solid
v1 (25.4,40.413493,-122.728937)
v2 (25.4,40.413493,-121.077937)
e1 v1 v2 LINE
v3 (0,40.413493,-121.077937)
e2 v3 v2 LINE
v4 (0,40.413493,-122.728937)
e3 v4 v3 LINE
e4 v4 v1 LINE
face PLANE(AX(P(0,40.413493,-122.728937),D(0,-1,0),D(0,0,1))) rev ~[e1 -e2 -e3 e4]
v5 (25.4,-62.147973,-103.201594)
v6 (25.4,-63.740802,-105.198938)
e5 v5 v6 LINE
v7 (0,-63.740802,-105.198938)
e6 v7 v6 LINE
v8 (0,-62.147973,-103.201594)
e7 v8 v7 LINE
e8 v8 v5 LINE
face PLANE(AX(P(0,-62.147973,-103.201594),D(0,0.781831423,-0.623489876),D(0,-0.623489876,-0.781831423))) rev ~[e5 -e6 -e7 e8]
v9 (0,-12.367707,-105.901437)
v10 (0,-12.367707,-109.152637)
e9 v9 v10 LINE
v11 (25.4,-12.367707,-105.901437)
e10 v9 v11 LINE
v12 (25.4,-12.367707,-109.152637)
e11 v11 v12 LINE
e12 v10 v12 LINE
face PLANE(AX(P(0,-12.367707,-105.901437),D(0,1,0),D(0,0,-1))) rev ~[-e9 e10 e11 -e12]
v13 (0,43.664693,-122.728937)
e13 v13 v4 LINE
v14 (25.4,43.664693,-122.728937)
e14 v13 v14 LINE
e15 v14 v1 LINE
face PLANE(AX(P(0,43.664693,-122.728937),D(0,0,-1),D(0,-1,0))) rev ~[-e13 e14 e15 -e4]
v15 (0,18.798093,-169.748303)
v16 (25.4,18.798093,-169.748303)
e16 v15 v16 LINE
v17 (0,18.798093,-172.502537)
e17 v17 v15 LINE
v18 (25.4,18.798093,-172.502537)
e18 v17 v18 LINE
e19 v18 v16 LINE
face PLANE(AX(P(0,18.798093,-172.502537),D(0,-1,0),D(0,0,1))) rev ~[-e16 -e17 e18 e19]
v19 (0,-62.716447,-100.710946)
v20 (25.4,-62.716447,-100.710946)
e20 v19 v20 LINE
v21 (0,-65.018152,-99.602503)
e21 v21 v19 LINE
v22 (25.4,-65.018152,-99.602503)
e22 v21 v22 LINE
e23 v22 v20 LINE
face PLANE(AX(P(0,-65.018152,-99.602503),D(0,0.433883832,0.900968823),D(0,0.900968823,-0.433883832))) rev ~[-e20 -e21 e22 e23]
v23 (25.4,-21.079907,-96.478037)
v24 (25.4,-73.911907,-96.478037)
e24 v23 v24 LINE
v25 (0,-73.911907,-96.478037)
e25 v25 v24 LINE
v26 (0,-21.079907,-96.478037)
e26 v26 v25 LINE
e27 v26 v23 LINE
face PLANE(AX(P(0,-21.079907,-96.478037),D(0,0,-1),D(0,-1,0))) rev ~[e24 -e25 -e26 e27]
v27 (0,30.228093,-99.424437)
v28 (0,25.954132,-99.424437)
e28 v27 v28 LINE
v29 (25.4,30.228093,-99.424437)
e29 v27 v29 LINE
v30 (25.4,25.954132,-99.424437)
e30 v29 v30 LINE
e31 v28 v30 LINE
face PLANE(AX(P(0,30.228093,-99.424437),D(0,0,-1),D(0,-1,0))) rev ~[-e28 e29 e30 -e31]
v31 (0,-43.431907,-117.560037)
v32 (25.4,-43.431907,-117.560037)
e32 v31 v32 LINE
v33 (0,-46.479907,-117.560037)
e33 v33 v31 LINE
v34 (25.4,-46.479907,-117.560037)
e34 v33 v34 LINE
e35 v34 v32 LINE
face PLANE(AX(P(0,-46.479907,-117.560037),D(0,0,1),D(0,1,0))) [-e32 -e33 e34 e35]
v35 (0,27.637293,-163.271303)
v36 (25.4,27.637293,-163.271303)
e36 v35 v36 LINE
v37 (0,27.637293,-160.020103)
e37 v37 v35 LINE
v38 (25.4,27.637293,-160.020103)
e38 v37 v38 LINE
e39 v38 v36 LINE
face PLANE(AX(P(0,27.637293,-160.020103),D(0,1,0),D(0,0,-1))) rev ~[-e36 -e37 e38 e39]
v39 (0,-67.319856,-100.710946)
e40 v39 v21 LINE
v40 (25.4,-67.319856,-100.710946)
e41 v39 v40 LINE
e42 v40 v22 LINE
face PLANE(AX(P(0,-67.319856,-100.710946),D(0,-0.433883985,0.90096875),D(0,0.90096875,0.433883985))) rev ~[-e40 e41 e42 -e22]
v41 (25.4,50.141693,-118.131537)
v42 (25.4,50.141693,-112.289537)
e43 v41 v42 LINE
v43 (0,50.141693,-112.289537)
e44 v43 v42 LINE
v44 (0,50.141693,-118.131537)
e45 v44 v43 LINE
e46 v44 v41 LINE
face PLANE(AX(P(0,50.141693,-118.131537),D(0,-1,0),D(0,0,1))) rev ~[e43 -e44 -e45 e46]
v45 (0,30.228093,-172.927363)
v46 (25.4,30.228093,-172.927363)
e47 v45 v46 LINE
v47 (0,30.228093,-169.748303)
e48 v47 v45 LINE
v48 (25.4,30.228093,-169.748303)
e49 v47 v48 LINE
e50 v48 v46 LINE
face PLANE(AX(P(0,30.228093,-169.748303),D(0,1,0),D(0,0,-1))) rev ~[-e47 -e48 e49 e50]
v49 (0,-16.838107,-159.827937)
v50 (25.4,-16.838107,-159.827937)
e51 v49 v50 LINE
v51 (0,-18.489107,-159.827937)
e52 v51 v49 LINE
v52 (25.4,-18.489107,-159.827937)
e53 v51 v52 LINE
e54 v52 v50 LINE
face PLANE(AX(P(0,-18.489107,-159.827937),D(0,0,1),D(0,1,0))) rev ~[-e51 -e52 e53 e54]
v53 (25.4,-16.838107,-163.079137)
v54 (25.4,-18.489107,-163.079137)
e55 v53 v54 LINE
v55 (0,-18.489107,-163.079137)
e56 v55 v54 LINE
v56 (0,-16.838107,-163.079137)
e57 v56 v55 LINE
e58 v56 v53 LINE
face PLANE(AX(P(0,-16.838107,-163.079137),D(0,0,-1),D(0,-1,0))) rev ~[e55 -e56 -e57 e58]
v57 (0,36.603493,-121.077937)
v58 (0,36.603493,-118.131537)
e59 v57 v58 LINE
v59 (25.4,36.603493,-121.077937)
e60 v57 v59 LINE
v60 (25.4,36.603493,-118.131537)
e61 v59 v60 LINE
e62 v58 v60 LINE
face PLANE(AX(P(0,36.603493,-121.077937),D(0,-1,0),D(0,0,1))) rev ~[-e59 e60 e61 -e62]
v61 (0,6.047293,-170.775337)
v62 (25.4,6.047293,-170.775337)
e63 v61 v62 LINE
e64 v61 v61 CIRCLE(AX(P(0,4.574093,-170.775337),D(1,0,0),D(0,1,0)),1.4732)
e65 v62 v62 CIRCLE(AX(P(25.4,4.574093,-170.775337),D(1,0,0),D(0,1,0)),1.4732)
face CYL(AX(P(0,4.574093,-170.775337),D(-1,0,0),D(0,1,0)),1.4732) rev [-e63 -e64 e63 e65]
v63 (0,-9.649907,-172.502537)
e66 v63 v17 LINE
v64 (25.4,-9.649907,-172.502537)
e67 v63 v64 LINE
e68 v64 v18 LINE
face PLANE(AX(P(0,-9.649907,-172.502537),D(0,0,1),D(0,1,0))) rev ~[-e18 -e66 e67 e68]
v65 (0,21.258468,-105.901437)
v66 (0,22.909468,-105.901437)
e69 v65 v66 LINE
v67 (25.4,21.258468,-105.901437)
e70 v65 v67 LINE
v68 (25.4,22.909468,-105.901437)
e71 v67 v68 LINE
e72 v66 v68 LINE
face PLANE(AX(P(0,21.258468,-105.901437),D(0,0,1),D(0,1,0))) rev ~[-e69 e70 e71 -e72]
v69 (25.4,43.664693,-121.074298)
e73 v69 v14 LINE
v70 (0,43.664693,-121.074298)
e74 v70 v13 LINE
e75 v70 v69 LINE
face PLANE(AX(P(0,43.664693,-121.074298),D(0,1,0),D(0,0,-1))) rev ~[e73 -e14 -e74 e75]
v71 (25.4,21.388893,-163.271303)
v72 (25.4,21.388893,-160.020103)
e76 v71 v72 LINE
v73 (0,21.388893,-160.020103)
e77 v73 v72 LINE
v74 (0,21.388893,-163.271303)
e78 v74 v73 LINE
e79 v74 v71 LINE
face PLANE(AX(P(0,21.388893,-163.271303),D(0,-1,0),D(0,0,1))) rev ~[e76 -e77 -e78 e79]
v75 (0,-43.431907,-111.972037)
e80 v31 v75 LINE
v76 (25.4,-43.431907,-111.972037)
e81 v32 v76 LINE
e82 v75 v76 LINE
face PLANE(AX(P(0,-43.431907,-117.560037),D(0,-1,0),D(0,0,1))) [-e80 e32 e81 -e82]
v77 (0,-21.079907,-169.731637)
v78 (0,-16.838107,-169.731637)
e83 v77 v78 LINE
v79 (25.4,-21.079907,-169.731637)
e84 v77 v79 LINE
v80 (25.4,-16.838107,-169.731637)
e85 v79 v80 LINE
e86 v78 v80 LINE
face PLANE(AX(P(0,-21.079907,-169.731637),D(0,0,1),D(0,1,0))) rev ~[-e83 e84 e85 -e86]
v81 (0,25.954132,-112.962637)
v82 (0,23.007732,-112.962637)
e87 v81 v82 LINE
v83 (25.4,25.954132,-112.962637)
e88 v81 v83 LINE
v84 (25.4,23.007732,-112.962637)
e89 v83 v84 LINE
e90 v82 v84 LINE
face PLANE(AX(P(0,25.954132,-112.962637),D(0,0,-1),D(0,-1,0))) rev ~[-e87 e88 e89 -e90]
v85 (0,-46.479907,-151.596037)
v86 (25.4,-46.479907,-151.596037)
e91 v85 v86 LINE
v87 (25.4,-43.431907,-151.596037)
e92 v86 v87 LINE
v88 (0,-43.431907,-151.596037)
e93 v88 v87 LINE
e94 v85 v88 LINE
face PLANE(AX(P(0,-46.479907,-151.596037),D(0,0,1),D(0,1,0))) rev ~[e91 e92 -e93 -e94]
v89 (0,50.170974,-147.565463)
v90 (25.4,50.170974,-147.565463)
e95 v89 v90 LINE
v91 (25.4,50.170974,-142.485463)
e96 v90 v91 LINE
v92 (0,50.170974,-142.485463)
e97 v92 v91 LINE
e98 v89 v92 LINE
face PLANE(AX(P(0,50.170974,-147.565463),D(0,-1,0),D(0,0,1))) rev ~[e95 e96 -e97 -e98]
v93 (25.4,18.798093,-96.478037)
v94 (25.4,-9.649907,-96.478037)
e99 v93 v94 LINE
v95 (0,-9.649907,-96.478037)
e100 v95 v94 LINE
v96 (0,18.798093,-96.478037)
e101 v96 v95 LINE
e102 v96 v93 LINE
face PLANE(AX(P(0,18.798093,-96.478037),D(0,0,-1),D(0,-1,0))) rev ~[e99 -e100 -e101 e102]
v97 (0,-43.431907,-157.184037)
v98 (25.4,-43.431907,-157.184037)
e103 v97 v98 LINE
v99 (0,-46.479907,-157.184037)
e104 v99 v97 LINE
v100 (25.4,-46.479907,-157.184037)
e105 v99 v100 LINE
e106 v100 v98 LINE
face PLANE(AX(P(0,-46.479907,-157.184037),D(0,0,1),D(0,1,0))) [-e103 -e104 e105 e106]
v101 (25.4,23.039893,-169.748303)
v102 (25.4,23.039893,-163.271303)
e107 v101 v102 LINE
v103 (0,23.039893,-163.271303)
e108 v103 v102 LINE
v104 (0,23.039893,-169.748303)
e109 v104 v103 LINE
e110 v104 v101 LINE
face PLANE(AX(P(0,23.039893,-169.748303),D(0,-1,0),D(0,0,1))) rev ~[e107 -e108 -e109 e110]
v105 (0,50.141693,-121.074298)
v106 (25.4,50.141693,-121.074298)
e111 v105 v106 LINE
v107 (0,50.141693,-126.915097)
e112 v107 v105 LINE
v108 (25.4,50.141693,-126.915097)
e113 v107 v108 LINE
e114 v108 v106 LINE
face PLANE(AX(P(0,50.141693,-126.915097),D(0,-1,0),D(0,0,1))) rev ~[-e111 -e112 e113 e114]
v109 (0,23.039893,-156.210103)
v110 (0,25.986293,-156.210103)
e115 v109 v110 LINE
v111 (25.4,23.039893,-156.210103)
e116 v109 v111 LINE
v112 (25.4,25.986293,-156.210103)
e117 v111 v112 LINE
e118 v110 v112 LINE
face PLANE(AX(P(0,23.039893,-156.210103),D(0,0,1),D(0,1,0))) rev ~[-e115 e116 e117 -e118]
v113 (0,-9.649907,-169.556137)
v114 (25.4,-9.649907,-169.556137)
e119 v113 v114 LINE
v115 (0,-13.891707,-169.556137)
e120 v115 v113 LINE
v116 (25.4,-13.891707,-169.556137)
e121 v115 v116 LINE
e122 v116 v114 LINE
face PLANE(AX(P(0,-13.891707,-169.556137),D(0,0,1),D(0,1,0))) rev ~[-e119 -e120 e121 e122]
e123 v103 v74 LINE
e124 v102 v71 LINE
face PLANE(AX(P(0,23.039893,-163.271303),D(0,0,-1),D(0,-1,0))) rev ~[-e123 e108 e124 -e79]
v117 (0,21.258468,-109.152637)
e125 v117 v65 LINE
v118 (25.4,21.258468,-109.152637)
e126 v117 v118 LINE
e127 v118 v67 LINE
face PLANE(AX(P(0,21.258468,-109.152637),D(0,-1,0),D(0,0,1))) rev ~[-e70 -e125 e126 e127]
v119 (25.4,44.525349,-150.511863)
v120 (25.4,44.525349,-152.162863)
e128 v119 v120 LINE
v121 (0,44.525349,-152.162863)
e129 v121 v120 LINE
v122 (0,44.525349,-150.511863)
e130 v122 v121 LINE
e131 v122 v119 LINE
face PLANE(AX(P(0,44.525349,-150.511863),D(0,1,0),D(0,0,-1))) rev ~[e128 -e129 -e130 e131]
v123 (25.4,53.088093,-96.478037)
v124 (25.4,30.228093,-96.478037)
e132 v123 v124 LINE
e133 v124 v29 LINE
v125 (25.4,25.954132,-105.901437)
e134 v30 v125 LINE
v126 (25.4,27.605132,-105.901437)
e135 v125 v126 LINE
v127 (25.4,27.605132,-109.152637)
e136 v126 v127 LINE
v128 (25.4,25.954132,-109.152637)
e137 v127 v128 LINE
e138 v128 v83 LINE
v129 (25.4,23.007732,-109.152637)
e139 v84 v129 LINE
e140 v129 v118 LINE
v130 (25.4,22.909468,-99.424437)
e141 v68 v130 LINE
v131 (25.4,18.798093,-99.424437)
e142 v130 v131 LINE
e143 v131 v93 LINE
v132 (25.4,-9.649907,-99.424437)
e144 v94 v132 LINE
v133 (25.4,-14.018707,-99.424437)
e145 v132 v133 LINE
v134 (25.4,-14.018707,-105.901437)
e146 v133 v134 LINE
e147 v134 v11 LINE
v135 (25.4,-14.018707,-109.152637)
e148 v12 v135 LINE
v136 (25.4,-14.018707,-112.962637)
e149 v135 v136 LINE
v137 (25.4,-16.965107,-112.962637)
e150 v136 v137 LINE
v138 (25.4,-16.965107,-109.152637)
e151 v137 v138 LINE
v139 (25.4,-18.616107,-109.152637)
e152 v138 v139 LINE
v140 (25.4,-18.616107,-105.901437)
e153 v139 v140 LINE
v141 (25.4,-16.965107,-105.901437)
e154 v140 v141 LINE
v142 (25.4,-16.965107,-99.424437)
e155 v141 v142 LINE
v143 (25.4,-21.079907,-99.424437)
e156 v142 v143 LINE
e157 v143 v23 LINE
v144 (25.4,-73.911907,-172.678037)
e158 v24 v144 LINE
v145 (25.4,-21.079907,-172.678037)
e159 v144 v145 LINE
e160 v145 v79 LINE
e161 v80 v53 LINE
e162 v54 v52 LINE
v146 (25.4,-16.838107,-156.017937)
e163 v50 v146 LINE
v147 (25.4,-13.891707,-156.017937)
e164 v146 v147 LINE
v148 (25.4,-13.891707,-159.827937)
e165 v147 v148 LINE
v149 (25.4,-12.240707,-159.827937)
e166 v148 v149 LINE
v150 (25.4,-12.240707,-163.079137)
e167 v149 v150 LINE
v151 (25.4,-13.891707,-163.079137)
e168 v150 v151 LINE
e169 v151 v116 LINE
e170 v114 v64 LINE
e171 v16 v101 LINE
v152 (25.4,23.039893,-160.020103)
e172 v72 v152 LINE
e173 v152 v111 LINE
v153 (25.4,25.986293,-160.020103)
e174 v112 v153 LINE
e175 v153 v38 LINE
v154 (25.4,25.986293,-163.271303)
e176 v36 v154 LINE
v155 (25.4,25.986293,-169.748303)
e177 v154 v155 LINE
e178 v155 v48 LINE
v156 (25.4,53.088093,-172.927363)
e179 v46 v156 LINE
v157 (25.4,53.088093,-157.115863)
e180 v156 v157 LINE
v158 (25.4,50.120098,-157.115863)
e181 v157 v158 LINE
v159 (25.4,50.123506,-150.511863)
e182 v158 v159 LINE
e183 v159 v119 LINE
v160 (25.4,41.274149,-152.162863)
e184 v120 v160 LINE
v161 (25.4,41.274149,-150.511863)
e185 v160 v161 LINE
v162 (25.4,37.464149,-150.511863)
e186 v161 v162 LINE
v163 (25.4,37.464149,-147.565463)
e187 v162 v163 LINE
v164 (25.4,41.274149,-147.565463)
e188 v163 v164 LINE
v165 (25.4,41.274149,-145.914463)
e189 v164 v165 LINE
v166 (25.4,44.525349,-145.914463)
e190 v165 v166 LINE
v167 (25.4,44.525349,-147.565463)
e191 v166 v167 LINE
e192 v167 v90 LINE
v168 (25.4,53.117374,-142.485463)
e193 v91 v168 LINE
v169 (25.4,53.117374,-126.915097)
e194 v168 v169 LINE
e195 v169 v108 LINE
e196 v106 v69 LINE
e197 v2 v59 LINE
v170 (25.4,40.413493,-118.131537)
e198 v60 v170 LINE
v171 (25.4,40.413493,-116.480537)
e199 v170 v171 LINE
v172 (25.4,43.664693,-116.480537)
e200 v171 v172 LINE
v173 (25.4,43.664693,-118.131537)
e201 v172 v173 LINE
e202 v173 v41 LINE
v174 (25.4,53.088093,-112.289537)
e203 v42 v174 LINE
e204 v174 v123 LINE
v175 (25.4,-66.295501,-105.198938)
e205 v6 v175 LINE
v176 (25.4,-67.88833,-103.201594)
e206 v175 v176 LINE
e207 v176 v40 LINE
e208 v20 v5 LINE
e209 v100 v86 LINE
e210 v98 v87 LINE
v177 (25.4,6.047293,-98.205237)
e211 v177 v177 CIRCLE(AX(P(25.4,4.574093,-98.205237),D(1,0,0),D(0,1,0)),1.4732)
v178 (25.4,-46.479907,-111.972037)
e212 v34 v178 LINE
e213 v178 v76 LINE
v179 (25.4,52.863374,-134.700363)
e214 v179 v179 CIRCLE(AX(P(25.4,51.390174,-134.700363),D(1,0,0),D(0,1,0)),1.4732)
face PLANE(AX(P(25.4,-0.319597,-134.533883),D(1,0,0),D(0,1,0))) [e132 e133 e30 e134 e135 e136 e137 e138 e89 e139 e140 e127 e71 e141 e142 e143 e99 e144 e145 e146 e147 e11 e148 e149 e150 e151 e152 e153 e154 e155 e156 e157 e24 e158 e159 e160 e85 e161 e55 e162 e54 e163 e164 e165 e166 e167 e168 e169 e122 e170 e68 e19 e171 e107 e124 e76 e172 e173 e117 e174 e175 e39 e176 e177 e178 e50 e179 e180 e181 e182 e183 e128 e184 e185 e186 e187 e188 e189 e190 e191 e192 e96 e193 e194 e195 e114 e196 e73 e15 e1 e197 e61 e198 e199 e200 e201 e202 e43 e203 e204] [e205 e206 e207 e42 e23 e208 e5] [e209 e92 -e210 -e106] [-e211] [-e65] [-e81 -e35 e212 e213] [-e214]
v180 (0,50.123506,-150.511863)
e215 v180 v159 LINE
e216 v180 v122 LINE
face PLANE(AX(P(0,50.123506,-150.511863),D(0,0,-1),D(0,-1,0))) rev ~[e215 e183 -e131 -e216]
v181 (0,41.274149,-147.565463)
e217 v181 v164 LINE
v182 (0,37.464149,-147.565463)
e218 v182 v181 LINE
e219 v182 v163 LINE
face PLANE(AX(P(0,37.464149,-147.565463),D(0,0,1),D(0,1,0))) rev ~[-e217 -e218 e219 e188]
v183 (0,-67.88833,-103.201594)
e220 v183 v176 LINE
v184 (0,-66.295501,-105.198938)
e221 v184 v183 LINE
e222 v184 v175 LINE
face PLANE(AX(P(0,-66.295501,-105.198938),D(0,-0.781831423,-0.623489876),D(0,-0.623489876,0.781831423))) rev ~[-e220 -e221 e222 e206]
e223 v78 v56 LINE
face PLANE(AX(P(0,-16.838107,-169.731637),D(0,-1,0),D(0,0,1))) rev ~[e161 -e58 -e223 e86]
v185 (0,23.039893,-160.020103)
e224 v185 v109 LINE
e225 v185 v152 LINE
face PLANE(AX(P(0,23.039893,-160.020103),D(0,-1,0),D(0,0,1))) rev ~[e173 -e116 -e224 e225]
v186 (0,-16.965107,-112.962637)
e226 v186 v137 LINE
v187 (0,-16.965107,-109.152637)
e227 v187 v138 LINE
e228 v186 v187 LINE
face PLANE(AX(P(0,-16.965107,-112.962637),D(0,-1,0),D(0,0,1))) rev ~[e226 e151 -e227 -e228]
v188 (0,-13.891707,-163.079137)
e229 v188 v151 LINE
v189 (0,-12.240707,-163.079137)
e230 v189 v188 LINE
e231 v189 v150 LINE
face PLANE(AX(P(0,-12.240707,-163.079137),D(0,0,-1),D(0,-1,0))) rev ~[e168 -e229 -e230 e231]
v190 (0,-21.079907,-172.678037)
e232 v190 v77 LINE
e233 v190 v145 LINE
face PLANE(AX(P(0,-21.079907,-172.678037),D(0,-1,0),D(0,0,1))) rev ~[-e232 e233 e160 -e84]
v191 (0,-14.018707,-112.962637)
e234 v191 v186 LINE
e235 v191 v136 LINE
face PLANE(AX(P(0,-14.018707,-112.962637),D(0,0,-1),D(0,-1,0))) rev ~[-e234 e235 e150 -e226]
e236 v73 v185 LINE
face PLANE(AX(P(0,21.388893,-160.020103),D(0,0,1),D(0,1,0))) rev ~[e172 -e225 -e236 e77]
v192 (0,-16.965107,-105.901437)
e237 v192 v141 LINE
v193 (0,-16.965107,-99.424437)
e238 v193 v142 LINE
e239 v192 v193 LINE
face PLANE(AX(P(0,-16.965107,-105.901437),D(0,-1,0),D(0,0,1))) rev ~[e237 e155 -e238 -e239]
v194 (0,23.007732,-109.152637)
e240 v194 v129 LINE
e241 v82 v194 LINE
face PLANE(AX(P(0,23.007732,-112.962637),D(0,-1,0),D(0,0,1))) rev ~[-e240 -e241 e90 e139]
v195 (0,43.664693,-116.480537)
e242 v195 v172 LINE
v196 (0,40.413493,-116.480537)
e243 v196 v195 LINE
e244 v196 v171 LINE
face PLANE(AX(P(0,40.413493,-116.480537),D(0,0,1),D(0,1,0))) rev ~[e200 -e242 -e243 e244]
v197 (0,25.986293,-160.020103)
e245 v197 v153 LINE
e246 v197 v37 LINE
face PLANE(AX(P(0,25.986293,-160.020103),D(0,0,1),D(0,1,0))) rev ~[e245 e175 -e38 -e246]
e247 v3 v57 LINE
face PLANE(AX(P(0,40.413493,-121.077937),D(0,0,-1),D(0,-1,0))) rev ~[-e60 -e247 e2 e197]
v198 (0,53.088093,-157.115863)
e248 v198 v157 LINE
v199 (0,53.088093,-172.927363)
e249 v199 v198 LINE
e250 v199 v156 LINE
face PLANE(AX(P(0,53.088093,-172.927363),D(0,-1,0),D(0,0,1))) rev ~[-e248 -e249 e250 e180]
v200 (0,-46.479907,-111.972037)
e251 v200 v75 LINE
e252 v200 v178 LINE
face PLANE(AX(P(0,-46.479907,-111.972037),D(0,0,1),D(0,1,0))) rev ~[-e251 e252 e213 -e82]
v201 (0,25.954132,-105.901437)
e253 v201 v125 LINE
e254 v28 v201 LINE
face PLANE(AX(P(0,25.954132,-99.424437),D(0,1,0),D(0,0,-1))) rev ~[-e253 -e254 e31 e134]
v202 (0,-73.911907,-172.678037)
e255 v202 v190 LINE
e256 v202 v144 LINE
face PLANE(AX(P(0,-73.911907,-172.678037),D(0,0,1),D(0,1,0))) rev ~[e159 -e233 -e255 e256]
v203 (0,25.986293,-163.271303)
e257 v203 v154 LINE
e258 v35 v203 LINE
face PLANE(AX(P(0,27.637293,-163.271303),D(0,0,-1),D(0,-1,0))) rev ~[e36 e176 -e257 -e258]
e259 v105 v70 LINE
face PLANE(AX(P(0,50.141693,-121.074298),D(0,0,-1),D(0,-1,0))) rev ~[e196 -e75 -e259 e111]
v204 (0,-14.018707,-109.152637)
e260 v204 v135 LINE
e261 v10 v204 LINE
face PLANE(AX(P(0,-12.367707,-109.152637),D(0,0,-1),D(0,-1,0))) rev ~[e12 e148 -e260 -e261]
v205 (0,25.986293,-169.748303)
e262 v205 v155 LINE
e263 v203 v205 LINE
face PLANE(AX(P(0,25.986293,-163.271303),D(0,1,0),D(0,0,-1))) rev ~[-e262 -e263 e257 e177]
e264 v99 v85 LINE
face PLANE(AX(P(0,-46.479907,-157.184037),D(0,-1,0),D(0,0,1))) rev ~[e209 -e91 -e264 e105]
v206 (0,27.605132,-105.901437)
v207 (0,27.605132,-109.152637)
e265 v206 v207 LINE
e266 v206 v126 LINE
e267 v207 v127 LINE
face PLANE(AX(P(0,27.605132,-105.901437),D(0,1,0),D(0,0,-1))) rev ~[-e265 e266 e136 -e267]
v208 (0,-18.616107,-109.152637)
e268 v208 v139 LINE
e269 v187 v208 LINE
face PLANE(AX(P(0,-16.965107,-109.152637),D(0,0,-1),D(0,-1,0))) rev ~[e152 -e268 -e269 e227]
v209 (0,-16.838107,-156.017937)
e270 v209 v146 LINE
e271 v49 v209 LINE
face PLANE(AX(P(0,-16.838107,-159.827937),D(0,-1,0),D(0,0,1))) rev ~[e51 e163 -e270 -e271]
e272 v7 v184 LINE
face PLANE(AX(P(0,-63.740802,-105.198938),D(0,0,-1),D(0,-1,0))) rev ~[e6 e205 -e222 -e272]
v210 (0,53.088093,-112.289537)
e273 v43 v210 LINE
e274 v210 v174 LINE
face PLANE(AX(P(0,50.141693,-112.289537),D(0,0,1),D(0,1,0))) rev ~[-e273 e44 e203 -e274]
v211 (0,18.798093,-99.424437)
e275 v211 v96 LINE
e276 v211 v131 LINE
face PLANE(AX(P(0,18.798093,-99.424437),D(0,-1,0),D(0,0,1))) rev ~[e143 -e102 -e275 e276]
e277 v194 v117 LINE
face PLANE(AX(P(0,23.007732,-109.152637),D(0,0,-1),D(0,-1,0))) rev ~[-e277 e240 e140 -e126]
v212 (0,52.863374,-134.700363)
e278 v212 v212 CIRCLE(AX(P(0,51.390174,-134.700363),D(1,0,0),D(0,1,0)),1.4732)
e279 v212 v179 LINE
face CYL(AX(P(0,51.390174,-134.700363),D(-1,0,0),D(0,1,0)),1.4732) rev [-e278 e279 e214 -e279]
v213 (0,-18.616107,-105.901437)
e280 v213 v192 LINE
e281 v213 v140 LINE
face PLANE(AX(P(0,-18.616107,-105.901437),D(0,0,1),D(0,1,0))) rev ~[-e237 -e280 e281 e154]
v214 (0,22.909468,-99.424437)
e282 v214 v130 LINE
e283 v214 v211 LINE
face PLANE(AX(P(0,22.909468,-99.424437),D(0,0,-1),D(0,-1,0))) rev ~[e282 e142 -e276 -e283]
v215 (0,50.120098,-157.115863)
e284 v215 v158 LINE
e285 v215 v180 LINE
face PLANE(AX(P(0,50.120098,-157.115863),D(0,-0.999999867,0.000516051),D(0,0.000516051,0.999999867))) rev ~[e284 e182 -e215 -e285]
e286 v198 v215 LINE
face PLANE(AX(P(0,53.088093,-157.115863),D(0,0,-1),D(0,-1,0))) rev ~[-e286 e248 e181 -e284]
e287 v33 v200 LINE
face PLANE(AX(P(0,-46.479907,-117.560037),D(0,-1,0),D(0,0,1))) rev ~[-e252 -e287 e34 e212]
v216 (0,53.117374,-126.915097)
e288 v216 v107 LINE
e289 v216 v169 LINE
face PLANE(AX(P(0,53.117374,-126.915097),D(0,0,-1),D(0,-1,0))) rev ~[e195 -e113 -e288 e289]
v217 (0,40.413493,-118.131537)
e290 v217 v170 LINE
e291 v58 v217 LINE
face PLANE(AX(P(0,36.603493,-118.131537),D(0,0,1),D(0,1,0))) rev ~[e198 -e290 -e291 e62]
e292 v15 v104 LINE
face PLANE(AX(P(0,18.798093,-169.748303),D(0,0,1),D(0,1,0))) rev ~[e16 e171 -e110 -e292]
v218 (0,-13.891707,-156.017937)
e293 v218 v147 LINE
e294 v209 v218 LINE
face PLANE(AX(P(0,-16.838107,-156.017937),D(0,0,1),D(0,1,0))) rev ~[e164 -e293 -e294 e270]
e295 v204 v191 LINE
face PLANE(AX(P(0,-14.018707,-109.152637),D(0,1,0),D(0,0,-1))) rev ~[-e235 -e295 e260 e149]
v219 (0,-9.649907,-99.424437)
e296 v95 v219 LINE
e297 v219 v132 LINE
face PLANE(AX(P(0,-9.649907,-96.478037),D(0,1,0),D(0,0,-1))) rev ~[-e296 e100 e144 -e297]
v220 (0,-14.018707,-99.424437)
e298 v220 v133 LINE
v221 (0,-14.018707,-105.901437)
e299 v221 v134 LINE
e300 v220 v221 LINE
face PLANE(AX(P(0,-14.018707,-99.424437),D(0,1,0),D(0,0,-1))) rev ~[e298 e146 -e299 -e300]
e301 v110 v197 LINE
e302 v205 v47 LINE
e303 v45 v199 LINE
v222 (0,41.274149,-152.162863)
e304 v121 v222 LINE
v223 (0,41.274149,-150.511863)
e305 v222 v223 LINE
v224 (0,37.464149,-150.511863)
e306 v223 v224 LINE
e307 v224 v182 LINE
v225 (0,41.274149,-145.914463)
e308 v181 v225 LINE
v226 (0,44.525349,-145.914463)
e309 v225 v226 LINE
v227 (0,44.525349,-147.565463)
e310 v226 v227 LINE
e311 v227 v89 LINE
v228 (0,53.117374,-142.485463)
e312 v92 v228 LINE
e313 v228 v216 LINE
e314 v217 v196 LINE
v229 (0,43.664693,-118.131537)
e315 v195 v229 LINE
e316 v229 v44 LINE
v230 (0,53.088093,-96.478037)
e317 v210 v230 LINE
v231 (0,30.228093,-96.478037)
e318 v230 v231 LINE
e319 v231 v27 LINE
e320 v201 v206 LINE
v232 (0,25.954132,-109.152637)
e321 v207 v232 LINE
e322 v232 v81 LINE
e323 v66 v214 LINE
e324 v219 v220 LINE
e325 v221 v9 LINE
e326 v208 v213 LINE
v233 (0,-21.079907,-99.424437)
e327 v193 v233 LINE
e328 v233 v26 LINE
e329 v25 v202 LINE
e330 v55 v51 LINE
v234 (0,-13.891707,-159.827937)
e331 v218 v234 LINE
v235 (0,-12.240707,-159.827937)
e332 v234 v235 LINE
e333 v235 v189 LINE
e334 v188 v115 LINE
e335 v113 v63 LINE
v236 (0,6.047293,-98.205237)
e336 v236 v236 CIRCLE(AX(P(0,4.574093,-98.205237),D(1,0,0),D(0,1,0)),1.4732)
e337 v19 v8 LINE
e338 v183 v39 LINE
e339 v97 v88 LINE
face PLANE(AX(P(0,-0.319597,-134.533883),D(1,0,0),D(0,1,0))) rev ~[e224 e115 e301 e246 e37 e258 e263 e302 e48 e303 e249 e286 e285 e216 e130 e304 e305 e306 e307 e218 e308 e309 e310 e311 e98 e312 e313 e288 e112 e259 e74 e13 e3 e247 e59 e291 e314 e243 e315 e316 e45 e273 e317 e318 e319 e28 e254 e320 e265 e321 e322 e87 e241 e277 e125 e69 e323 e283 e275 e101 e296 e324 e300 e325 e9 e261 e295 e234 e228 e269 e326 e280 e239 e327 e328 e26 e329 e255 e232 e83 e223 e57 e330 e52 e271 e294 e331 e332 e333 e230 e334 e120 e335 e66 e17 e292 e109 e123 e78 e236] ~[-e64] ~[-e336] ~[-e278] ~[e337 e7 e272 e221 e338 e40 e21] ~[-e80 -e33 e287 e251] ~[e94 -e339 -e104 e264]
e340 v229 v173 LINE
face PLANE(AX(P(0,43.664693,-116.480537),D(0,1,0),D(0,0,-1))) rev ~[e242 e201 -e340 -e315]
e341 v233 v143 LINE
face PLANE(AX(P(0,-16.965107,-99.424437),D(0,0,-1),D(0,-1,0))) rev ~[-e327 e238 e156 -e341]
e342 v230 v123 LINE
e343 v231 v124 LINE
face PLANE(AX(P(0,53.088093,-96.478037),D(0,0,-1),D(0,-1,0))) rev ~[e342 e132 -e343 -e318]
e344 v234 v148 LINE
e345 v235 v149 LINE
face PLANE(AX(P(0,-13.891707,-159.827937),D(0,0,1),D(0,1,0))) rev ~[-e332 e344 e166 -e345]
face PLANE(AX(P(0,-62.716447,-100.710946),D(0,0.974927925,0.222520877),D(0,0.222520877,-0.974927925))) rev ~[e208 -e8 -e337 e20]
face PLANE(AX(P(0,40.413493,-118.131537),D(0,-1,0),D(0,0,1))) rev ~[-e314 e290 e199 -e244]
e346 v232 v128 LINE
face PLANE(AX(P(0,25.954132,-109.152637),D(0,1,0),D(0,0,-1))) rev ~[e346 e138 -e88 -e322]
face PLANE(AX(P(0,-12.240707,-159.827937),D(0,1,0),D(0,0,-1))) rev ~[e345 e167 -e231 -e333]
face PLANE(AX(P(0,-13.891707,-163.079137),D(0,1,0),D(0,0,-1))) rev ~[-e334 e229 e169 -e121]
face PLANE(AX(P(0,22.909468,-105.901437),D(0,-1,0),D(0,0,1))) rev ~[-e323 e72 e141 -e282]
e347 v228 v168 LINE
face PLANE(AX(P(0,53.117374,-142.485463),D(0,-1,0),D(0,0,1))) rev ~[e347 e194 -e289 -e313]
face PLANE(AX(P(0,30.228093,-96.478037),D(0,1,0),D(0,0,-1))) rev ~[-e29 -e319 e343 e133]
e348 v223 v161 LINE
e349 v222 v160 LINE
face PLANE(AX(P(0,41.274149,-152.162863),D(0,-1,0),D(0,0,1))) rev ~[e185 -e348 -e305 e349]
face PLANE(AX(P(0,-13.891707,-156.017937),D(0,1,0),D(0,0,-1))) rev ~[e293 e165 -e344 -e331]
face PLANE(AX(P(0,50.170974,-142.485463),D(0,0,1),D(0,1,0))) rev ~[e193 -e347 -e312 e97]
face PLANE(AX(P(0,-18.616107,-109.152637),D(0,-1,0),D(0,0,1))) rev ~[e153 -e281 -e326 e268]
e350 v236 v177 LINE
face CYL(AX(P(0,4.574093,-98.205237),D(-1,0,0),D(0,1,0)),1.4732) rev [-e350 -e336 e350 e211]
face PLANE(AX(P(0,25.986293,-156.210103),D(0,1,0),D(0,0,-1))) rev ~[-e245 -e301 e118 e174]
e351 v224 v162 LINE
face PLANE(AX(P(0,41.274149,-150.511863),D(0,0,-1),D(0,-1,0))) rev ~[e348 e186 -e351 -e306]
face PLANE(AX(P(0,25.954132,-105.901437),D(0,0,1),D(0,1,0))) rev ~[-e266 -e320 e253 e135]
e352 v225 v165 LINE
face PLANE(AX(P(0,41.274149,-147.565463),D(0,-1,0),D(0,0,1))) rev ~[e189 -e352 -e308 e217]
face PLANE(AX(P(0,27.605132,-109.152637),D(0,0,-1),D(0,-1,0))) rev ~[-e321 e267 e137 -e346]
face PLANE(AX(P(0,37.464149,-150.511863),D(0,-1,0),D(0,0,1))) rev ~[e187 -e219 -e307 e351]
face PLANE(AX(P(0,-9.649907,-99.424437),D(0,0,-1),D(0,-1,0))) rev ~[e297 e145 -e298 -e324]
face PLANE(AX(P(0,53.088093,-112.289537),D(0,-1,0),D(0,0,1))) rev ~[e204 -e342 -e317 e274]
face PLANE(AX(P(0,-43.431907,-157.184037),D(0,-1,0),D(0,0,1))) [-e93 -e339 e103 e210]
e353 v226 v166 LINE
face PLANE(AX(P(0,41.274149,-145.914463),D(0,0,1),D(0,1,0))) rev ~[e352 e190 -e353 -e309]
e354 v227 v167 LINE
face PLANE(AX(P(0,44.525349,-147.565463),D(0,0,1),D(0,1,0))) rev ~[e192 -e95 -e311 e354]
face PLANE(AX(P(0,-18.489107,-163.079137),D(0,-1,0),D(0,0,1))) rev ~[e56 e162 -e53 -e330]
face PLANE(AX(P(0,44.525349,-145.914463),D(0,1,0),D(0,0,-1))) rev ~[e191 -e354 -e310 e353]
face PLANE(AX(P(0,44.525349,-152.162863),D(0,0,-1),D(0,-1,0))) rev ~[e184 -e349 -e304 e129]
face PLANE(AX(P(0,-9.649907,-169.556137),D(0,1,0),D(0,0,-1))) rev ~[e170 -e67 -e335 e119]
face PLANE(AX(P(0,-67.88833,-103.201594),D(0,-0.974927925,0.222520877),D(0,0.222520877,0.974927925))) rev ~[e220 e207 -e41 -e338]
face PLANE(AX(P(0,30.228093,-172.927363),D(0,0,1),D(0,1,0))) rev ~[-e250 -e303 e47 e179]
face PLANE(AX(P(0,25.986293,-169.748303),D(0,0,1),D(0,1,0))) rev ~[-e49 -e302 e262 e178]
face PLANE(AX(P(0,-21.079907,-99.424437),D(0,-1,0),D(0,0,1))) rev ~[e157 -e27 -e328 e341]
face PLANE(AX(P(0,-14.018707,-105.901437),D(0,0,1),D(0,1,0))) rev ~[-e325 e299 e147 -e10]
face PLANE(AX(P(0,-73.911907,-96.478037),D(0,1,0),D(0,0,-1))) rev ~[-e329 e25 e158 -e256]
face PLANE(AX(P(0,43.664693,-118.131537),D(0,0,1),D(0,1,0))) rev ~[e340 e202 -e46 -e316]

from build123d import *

# Parameters (mm, degrees)
F0_W     = 3.048
F0_H     = 5.588
F0_R     = 1.4732
F1_DEPTH = 25.4


with BuildPart() as f1:
    # F0 (on Right) → F1 (new body)
    with BuildSketch(Plane.YZ):
        Polygon((-44.894837, -69.046037), (-72.387907, -69.046037), (-72.387907, -145.246037), (-19.555907, -145.246037), (-19.555907, -142.299637), (-15.314107, -142.299637), (-15.314107, -135.647137), (-16.965107, -135.647137), (-16.965107, -132.395937), (-15.314107, -132.395937), (-15.314107, -128.585937), (-12.367707, -128.585937), (-12.367707, -132.395937), (-10.716707, -132.395937), (-10.716707, -135.647137), (-12.367707, -135.647137), (-12.367707, -142.124137), (-8.125907, -142.124137), (-8.125907, -145.070537), (20.322093, -145.070537), (20.322093, -142.316303), (24.563893, -142.316303), (24.563893, -135.839303), (22.912893, -135.839303), (22.912893, -132.588103), (24.563893, -132.588103), (24.563893, -128.778103), (27.510293, -128.778103), (27.510293, -132.588103), (29.161293, -132.588103), (29.161293, -135.839303), (27.510293, -135.839303), (27.510293, -142.316303), (31.752093, -142.316303), (31.752093, -145.495363), (54.612093, -145.495363), (54.612093, -129.683863), (51.644098, -129.683863), (51.647506, -123.079863), (46.049349, -123.079863), (46.049349, -124.730863), (42.798149, -124.730863), (42.798149, -123.079863), (38.988149, -123.079863), (38.988149, -120.133463), (42.798149, -120.133463), (42.798149, -118.482463), (46.049349, -118.482463), (46.049349, -120.133463), (51.694974, -120.133463), (51.694974, -115.053463), (54.641374, -115.053463), (54.641374, -99.483097), (51.665693, -99.483097), (51.665693, -93.642298), (45.188693, -93.642298), (45.188693, -95.296937), (41.937493, -95.296937), (41.937493, -93.645937), (38.127493, -93.645937), (38.127493, -90.699537), (41.937493, -90.699537), (41.937493, -89.048537), (45.188693, -89.048537), (45.188693, -90.699537), (51.665693, -90.699537), (51.665693, -84.857537), (54.612093, -84.857537), (54.612093, -71.992437), (54.612093, -69.046037), (31.752093, -69.046037), (31.752093, -71.992437), (27.478132, -71.992437), (27.478132, -78.469437), (29.129132, -78.469437), (29.129132, -81.720637), (27.478132, -81.720637), (27.478132, -85.530637), (24.531732, -85.530637), (24.531732, -81.720637), (22.782468, -81.720637), (22.782468, -78.469437), (24.433468, -78.469437), (24.433468, -71.992437), (20.322093, -71.992437), (20.322093, -69.046037), (-8.125907, -69.046037), (-8.125907, -71.992437), (-12.494707, -71.992437), (-12.494707, -78.469437), (-10.843707, -78.469437), (-10.843707, -81.720637), (-12.494707, -81.720637), (-12.494707, -85.530637), (-15.441107, -85.530637), (-15.441107, -81.720637), (-17.092107, -81.720637), (-17.092107, -78.469437), (-15.441107, -78.469437), (-15.441107, -71.992437), (-19.555907, -71.992437), (-19.555907, -69.046037), align=None)
        with Locations((-43.431907, -126.958037)):
            Rectangle(F0_W, F0_H, mode=Mode.SUBTRACT)
        with Locations((6.098093, -143.343337)):
            Circle(F0_R, mode=Mode.SUBTRACT)
        with Locations((-43.431907, -87.334037)):
            Rectangle(F0_W, F0_H, mode=Mode.SUBTRACT)
        with Locations((52.914174, -107.268363)):
            Circle(F0_R, mode=Mode.SUBTRACT)
        Polygon((-60.623973, -75.769594), (-62.216802, -77.766938), (-64.771501, -77.766938), (-66.36433, -75.769594), (-65.795856, -73.278946), (-63.494152, -72.170503), (-61.192447, -73.278946), align=None, mode=Mode.SUBTRACT)
        with Locations((6.098093, -70.773237)):
            Circle(F0_R, mode=Mode.SUBTRACT)
    extrude(amount=F1_DEPTH)


with BuildPart() as f1_1:
    # F2: moved
    add(f1.part.moved(Location((0, -1.524, -27.432))))


solid = f1_1.part
